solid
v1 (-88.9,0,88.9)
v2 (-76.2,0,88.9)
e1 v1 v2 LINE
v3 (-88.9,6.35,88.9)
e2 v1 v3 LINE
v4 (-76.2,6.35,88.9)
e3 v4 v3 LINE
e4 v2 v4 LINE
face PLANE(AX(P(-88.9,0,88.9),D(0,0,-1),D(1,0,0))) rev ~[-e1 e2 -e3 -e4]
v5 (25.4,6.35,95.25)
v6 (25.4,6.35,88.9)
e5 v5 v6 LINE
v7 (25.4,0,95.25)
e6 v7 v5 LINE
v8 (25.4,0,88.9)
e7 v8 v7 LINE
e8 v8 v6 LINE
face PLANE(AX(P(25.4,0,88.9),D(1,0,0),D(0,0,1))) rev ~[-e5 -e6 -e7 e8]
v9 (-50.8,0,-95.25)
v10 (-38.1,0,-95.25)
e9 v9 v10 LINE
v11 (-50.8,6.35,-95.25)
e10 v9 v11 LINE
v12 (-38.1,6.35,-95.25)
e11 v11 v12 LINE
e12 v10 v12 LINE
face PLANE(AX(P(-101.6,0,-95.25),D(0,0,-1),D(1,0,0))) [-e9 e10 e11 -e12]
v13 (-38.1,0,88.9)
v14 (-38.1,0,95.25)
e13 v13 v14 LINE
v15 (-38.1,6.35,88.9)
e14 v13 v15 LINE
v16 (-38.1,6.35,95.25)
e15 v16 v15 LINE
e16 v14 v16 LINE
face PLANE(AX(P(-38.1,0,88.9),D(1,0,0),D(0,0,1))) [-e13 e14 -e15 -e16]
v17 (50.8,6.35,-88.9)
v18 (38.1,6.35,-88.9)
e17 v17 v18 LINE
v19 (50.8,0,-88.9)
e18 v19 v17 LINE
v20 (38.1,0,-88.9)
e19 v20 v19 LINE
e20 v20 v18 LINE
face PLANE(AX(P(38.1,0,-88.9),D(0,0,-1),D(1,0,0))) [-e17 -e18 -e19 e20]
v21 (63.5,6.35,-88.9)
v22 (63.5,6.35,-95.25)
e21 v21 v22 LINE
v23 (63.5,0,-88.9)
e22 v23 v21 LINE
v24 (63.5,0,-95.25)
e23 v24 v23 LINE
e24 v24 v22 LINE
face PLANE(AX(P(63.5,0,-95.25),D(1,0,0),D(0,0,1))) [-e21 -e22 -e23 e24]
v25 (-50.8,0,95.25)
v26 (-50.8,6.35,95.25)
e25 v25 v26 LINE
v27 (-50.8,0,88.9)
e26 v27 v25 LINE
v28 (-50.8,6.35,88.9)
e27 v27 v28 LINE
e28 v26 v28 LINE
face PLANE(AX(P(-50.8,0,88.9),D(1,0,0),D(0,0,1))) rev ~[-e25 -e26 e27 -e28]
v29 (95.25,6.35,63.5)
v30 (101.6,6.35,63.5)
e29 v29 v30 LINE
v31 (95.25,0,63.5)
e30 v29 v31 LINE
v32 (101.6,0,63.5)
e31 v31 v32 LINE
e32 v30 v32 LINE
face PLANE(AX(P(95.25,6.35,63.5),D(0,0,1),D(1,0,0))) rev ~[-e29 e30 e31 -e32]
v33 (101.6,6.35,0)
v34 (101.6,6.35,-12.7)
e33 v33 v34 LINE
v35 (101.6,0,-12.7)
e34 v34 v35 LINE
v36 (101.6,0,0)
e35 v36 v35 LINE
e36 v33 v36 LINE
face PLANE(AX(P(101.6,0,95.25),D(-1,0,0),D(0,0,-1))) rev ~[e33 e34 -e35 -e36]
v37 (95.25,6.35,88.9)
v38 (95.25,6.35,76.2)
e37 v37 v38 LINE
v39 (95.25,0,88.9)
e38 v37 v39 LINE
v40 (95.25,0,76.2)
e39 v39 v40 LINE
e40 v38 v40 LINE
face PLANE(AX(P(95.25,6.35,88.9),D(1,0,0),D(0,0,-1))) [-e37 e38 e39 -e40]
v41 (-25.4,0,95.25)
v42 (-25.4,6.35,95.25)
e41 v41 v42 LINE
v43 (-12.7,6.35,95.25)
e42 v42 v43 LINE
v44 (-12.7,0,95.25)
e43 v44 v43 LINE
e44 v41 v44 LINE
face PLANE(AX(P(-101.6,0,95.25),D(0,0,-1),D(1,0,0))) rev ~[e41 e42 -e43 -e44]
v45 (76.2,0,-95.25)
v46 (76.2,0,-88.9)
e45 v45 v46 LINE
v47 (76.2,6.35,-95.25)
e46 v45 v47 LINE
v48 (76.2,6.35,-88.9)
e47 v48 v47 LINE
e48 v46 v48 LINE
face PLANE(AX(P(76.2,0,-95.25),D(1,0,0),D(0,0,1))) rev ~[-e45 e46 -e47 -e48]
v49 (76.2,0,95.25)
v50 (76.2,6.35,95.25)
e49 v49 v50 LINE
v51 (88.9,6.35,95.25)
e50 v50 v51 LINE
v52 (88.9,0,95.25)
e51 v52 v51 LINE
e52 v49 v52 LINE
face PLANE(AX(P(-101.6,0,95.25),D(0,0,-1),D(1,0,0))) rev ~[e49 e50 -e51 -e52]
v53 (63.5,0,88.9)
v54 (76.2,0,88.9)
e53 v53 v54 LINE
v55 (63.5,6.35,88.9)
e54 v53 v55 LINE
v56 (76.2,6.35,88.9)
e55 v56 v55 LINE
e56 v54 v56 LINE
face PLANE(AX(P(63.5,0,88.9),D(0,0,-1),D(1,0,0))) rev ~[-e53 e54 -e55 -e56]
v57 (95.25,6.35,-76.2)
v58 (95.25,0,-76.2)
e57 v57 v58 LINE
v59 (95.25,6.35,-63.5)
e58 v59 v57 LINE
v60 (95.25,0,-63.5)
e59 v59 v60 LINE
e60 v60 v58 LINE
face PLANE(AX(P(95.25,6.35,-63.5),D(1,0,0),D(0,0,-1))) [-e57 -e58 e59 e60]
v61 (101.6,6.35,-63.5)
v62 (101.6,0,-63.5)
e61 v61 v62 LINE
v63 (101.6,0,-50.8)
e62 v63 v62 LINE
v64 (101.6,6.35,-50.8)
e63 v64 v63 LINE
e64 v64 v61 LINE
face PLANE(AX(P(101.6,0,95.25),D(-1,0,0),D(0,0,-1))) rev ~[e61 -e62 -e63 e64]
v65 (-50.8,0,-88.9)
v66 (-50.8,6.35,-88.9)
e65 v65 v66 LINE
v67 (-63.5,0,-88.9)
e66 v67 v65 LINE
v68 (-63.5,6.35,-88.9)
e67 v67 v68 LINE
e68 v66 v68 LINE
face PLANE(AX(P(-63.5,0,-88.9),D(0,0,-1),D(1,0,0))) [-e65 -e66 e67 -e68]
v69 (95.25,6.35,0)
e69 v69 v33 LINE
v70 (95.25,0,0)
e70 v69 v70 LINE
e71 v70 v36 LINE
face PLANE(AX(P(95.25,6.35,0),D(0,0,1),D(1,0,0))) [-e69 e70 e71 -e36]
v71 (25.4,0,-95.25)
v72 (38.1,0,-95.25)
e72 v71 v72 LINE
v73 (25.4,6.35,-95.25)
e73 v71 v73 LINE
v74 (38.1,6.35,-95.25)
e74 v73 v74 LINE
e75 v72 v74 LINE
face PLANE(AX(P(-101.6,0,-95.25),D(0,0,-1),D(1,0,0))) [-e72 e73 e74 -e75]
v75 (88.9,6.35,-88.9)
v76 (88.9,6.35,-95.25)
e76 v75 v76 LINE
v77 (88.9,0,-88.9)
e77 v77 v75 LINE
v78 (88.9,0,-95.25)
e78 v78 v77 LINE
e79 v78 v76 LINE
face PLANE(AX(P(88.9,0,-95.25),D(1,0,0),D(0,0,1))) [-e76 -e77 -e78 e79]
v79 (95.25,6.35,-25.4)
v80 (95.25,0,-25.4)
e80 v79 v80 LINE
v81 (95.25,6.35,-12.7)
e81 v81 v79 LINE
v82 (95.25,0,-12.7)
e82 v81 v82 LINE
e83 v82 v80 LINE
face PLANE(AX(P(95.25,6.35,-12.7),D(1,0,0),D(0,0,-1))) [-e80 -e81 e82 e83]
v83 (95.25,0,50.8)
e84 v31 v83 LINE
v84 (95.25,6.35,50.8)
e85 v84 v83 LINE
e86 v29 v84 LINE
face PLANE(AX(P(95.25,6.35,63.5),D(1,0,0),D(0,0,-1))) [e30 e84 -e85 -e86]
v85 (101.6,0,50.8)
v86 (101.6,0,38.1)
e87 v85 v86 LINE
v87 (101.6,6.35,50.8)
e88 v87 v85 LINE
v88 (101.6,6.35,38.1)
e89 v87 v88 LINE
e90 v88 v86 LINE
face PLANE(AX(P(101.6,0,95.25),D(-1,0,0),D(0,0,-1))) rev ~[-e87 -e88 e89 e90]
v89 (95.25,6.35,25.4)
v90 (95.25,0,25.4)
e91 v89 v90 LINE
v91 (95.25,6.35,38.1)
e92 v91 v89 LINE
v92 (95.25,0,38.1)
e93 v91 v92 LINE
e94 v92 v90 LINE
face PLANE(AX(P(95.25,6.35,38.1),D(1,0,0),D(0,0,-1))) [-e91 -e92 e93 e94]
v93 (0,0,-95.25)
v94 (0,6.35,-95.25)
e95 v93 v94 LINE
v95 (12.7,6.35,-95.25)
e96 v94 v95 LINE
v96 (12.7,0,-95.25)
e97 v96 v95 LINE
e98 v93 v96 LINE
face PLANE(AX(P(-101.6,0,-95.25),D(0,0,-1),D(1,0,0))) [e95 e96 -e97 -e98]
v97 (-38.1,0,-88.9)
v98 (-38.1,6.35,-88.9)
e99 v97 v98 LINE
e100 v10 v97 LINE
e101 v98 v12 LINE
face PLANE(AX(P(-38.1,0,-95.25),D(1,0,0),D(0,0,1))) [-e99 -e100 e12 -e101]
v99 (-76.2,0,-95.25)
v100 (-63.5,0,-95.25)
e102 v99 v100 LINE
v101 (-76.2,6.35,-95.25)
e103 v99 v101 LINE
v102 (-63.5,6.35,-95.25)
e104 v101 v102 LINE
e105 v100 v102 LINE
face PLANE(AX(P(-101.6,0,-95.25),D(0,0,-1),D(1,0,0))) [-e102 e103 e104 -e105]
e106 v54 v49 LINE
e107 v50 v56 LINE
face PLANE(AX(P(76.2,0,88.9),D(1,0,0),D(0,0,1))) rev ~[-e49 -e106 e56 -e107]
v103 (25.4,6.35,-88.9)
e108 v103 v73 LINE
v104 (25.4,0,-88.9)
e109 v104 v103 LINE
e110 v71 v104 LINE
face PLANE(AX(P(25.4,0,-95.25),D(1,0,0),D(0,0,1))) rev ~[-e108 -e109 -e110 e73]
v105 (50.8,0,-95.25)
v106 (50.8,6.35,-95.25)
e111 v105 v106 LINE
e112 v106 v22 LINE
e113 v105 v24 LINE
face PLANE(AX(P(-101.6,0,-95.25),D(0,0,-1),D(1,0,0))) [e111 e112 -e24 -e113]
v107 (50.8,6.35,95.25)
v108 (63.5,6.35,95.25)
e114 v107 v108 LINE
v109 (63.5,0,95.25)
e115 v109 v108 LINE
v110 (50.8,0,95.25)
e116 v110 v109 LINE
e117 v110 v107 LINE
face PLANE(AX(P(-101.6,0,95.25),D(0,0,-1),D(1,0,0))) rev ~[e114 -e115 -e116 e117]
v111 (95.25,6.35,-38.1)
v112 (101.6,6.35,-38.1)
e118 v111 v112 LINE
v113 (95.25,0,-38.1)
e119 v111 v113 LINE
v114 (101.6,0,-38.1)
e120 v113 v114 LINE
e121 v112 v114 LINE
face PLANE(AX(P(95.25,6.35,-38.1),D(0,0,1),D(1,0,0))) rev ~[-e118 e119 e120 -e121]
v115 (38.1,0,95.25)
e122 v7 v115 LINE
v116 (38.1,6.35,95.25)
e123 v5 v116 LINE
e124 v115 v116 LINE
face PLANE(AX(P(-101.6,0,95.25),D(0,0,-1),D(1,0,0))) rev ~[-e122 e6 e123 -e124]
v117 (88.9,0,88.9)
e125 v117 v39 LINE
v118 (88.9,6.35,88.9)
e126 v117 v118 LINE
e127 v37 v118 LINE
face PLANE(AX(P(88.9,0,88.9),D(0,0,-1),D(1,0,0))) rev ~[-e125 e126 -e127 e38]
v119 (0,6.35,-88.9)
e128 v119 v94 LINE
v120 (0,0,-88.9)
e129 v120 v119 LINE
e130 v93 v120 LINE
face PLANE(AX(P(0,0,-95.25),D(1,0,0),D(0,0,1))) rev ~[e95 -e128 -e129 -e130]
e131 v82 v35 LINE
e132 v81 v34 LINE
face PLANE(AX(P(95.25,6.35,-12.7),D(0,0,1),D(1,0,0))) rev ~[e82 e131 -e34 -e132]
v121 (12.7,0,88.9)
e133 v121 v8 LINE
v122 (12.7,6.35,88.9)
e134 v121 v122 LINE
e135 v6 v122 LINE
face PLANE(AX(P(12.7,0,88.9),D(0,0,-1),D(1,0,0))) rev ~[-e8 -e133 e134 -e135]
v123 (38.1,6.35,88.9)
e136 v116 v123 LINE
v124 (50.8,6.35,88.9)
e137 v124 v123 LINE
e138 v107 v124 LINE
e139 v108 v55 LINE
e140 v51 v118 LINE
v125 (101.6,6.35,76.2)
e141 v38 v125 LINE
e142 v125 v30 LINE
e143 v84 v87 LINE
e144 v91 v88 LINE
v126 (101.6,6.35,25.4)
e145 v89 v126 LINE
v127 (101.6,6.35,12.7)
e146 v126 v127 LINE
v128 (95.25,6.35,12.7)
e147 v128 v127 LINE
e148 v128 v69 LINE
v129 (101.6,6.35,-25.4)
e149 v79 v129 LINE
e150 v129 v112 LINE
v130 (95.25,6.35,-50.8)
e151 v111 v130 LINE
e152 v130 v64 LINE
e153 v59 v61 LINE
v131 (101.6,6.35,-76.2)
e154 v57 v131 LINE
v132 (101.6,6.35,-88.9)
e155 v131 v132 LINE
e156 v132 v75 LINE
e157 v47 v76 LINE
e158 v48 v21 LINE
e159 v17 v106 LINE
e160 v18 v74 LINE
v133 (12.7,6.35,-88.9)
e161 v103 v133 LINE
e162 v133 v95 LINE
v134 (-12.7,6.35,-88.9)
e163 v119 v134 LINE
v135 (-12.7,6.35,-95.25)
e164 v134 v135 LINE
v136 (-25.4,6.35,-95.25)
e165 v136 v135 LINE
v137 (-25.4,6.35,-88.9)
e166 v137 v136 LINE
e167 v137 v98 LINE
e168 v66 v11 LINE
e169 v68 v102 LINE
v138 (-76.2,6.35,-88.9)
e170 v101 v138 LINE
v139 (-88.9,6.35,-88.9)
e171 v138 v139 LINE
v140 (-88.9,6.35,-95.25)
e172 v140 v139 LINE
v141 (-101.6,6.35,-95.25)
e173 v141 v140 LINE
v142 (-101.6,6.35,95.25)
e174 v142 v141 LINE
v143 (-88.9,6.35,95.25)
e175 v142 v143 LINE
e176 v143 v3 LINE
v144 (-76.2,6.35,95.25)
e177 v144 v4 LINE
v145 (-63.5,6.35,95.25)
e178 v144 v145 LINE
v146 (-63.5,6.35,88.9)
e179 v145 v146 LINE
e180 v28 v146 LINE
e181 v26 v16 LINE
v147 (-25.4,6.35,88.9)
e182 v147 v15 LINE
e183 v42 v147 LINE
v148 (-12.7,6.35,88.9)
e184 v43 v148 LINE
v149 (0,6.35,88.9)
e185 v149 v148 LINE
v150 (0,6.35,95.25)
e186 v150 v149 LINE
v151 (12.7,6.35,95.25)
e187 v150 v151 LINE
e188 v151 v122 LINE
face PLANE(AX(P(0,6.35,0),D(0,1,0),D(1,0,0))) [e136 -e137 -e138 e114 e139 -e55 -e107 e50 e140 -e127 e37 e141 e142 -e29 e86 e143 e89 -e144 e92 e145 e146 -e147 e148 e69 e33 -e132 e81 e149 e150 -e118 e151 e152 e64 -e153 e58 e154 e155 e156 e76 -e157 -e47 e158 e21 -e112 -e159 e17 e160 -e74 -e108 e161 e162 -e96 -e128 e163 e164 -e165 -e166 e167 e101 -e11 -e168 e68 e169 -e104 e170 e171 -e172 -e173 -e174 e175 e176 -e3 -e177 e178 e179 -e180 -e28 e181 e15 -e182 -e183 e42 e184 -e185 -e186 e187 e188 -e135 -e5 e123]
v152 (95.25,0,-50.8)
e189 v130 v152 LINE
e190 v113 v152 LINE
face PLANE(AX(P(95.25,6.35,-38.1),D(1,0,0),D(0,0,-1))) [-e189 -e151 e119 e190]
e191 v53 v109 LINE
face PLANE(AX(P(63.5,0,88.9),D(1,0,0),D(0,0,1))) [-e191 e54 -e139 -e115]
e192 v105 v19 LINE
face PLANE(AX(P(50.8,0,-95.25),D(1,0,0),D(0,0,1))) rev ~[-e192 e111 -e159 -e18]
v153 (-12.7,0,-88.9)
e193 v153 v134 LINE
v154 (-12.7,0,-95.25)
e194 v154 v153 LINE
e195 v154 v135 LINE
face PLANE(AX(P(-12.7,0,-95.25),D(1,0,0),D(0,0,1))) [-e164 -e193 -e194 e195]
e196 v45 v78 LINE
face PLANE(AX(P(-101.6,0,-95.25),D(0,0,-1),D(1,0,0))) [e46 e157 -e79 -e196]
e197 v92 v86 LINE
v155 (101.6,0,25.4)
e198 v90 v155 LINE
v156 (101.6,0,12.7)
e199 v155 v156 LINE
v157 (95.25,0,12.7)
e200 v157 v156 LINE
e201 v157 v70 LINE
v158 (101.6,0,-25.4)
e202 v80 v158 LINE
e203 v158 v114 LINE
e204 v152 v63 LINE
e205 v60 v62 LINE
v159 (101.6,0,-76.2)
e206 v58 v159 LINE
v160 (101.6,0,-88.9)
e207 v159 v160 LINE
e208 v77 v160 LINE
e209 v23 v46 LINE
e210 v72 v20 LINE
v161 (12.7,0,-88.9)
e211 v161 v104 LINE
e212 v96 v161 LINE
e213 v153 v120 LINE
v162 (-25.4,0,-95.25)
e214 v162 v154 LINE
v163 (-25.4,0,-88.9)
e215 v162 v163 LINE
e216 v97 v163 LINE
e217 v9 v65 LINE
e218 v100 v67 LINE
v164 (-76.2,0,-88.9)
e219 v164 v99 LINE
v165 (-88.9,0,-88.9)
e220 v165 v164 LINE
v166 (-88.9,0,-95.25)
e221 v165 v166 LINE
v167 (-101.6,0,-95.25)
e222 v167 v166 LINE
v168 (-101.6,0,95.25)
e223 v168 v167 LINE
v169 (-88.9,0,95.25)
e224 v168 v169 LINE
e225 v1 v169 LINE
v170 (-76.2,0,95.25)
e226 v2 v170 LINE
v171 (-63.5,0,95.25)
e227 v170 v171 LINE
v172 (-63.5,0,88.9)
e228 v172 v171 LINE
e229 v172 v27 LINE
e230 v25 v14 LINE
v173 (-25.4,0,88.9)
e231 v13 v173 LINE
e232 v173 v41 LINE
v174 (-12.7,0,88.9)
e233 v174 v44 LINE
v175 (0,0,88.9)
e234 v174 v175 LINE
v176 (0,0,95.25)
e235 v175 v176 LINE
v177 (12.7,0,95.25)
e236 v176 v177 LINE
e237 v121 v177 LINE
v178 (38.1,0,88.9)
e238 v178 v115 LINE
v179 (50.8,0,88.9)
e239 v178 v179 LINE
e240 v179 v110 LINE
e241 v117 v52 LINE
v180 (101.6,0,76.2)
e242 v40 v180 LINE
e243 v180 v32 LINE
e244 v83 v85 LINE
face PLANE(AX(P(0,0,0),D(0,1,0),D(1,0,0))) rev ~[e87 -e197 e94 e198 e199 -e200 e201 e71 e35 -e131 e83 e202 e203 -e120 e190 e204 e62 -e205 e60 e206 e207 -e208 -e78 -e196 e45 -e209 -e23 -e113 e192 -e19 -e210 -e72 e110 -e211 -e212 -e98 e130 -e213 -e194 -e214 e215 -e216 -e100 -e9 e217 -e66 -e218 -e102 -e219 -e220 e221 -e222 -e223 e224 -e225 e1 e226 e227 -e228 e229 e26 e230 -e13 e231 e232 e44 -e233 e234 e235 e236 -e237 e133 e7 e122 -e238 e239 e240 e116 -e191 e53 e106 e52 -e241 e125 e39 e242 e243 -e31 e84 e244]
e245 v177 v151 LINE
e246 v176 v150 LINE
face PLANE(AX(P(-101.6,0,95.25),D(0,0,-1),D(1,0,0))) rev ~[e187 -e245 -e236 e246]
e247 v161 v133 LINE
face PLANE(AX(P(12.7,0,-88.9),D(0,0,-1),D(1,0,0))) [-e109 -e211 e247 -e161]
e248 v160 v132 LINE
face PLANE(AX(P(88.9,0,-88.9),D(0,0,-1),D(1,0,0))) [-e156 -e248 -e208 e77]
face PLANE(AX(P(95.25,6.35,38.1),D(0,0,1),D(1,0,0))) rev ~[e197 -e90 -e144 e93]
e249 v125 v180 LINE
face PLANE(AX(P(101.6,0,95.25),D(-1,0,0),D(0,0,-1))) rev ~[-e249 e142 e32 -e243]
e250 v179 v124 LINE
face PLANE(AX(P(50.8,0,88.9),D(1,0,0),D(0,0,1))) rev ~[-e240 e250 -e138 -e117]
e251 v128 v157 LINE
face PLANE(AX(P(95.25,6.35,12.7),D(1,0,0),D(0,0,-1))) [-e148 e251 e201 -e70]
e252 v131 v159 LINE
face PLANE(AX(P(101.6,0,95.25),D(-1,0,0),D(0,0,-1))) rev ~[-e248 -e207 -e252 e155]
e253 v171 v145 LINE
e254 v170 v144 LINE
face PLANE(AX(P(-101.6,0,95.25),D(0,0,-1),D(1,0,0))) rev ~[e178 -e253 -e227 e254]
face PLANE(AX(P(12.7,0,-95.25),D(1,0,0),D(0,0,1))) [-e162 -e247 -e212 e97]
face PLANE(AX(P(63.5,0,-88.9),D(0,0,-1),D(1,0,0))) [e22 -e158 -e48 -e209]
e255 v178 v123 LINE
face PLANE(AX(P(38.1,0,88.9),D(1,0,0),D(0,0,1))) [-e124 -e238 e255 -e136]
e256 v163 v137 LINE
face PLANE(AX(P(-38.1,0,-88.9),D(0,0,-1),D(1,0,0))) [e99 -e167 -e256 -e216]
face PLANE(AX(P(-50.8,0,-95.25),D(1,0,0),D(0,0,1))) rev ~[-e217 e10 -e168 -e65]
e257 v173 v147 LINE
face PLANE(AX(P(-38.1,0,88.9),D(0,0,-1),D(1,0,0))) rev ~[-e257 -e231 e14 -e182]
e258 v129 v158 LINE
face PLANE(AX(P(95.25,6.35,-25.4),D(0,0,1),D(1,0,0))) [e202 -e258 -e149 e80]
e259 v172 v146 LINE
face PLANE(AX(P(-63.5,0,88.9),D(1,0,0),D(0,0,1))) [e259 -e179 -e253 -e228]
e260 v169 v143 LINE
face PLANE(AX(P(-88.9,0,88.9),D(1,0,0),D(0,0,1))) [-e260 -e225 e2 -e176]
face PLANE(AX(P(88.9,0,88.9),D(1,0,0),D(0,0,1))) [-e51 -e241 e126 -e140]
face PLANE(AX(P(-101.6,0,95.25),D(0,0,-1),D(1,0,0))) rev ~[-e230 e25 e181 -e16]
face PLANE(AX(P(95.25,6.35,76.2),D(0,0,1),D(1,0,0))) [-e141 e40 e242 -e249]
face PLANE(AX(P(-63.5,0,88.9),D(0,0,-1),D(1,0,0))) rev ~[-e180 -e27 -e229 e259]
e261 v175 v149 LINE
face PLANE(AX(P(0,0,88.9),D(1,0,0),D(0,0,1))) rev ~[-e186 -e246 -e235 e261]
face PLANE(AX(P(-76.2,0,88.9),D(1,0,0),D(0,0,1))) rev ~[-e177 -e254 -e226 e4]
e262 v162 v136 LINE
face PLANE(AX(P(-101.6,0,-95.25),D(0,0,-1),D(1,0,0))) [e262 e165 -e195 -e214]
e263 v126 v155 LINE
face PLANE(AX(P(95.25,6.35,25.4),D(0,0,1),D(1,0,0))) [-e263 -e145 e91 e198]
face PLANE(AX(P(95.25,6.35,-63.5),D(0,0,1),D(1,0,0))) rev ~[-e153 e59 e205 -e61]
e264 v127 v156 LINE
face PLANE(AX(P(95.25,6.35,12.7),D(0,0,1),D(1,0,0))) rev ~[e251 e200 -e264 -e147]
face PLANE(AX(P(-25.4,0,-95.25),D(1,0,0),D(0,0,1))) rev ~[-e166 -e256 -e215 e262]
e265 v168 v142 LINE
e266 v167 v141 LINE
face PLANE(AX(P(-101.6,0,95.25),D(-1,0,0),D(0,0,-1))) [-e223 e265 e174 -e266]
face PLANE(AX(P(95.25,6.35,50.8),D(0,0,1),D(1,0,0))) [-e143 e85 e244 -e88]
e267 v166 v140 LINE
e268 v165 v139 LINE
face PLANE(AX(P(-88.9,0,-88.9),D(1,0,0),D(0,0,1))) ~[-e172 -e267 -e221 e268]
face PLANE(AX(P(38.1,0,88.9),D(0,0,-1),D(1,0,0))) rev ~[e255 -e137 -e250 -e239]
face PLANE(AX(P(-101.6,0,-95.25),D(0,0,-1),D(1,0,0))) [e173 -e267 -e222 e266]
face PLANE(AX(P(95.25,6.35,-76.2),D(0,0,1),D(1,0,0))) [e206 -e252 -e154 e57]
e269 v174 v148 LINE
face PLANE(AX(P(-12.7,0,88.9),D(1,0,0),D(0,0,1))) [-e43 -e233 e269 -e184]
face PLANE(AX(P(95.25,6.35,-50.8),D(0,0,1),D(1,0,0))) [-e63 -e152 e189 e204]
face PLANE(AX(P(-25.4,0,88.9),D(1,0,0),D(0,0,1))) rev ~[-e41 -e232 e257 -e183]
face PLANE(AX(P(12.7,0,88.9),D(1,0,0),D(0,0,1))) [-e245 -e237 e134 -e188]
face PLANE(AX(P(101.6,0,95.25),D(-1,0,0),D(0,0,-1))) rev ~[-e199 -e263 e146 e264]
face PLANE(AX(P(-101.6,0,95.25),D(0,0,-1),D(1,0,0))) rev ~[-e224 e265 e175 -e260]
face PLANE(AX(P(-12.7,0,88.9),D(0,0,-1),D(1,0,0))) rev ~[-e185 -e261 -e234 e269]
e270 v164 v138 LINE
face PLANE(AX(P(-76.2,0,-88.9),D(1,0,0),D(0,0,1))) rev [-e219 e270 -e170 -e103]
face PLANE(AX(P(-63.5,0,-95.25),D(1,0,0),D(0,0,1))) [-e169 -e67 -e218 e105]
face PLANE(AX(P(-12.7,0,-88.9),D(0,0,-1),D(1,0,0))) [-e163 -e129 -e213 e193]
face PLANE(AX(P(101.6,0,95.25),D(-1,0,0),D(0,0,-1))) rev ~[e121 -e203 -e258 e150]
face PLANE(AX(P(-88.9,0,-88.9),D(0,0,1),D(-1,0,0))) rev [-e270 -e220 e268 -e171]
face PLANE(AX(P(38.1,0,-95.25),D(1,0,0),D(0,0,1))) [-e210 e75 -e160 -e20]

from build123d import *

# Parameters (mm, degrees)
SKETCH1_W               = 203.2
SKETCH1_H               = 190.5
BOSS_EXTRUDE1_DEPTH     = 6.35
SKETCH2_W               = 12.7
SKETCH2_H               = 6.35
CUT_EXTRUDE1_DEPTH      = 7.35
LPATTERN1_COUNT         = 8
LPATTERN1_PITCH         = 25.4
MIRROR1_COPY_1_SKETCH_W = 12.7
MIRROR1_COPY_1_SKETCH_H = 6.35
MIRROR1_COPY_1_DEPTH    = 7.35
MIRROR1_COPY_2_SKETCH_W = 12.7
MIRROR1_COPY_2_SKETCH_H = 6.35
MIRROR1_COPY_2_DEPTH    = 7.35
MIRROR1_COPY_3_SKETCH_W = 12.7
MIRROR1_COPY_3_SKETCH_H = 6.35
MIRROR1_COPY_3_DEPTH    = 7.35
MIRROR1_COPY_4_SKETCH_W = 12.7
MIRROR1_COPY_4_SKETCH_H = 6.35
MIRROR1_COPY_4_DEPTH    = 7.35
MIRROR1_COPY_5_SKETCH_W = 12.7
MIRROR1_COPY_5_SKETCH_H = 6.35
MIRROR1_COPY_5_DEPTH    = 7.35
MIRROR1_COPY_6_SKETCH_W = 12.7
MIRROR1_COPY_6_SKETCH_H = 6.35
MIRROR1_COPY_6_DEPTH    = 7.35
MIRROR1_COPY_7_SKETCH_W = 12.7
MIRROR1_COPY_7_SKETCH_H = 6.35
MIRROR1_COPY_7_DEPTH    = 7.35
SKETCH4_W               = 6.35
SKETCH4_H               = 12.7
CUT_EXTRUDE2_DEPTH      = 7.35
LPATTERN2_COUNT         = 7
LPATTERN2_PITCH         = 25.4


with BuildPart() as part:
    # Sketch1 → Boss-Extrude1 (new body)
    with BuildSketch(Plane(origin=(0, 0, 0), x_dir=(1, 0, 0), z_dir=(0, 1, 0))):
        Rectangle(SKETCH1_W, SKETCH1_H)
    extrude(amount=BOSS_EXTRUDE1_DEPTH)

    # Sketch2 → Cut-Extrude1 (cut, through all)
    with BuildSketch(Plane.XZ):
        with Locations((-82.55, 92.075)):
            Rectangle(SKETCH2_W, SKETCH2_H)
    cut_extrude1 = extrude(amount=-CUT_EXTRUDE1_DEPTH, mode=Mode.SUBTRACT)

    # LPattern1: Cut-Extrude1 ×8
    with Locations(*[(i * LPATTERN1_PITCH, 0, 0) for i in range(1, LPATTERN1_COUNT)]):
        add(cut_extrude1, mode=Mode.SUBTRACT)

    # Mirror1: Cut-Extrude1 across plane
    add(cut_extrude1.mirror(Plane.XY), mode=Mode.SUBTRACT)

    # Mirror1 copy 1 sketch → Mirror1 copy 1 (cut, through all)
    with BuildSketch(Plane(origin=(25.4, 0, 0), x_dir=(1, 0, 0), z_dir=(0, -1, 0))):
        with Locations((-82.55, -92.075)):
            Rectangle(MIRROR1_COPY_1_SKETCH_W, MIRROR1_COPY_1_SKETCH_H)
    extrude(amount=-MIRROR1_COPY_1_DEPTH, mode=Mode.SUBTRACT)

    # Mirror1 copy 2 sketch → Mirror1 copy 2 (cut, through all)
    with BuildSketch(Plane(origin=(50.8, 0, 0), x_dir=(1, 0, 0), z_dir=(0, -1, 0))):
        with Locations((-82.55, -92.075)):
            Rectangle(MIRROR1_COPY_2_SKETCH_W, MIRROR1_COPY_2_SKETCH_H)
    extrude(amount=-MIRROR1_COPY_2_DEPTH, mode=Mode.SUBTRACT)

    # Mirror1 copy 3 sketch → Mirror1 copy 3 (cut, through all)
    with BuildSketch(Plane(origin=(76.2, 0, 0), x_dir=(1, 0, 0), z_dir=(0, -1, 0))):
        with Locations((-82.55, -92.075)):
            Rectangle(MIRROR1_COPY_3_SKETCH_W, MIRROR1_COPY_3_SKETCH_H)
    extrude(amount=-MIRROR1_COPY_3_DEPTH, mode=Mode.SUBTRACT)

    # Mirror1 copy 4 sketch → Mirror1 copy 4 (cut, through all)
    with BuildSketch(Plane(origin=(101.6, 0, 0), x_dir=(1, 0, 0), z_dir=(0, -1, 0))):
        with Locations((-82.55, -92.075)):
            Rectangle(MIRROR1_COPY_4_SKETCH_W, MIRROR1_COPY_4_SKETCH_H)
    extrude(amount=-MIRROR1_COPY_4_DEPTH, mode=Mode.SUBTRACT)

    # Mirror1 copy 5 sketch → Mirror1 copy 5 (cut, through all)
    with BuildSketch(Plane(origin=(127, 0, 0), x_dir=(1, 0, 0), z_dir=(0, -1, 0))):
        with Locations((-82.55, -92.075)):
            Rectangle(MIRROR1_COPY_5_SKETCH_W, MIRROR1_COPY_5_SKETCH_H)
    extrude(amount=-MIRROR1_COPY_5_DEPTH, mode=Mode.SUBTRACT)

    # Mirror1 copy 6 sketch → Mirror1 copy 6 (cut, through all)
    with BuildSketch(Plane(origin=(152.4, 0, 0), x_dir=(1, 0, 0), z_dir=(0, -1, 0))):
        with Locations((-82.55, -92.075)):
            Rectangle(MIRROR1_COPY_6_SKETCH_W, MIRROR1_COPY_6_SKETCH_H)
    extrude(amount=-MIRROR1_COPY_6_DEPTH, mode=Mode.SUBTRACT)

    # Mirror1 copy 7 sketch → Mirror1 copy 7 (cut, through all)
    with BuildSketch(Plane(origin=(177.8, 0, 0), x_dir=(1, 0, 0), z_dir=(0, -1, 0))):
        with Locations((-82.55, -92.075)):
            Rectangle(MIRROR1_COPY_7_SKETCH_W, MIRROR1_COPY_7_SKETCH_H)
    extrude(amount=-MIRROR1_COPY_7_DEPTH, mode=Mode.SUBTRACT)

    # Sketch4 → Cut-Extrude2 (cut, through all)
    with BuildSketch(Plane(origin=(0, 6.35, 0), x_dir=(1, 0, 0), z_dir=(0, 1, 0))):
        with Locations((98.425, 69.85)):
            Rectangle(SKETCH4_W, SKETCH4_H)
    cut_extrude2 = extrude(amount=-CUT_EXTRUDE2_DEPTH, mode=Mode.SUBTRACT)

    # LPattern2: Cut-Extrude2 ×7
    with Locations(*[(0, 0, i * LPATTERN2_PITCH) for i in range(1, LPATTERN2_COUNT)]):
        add(cut_extrude2, mode=Mode.SUBTRACT)


solid = part.part
